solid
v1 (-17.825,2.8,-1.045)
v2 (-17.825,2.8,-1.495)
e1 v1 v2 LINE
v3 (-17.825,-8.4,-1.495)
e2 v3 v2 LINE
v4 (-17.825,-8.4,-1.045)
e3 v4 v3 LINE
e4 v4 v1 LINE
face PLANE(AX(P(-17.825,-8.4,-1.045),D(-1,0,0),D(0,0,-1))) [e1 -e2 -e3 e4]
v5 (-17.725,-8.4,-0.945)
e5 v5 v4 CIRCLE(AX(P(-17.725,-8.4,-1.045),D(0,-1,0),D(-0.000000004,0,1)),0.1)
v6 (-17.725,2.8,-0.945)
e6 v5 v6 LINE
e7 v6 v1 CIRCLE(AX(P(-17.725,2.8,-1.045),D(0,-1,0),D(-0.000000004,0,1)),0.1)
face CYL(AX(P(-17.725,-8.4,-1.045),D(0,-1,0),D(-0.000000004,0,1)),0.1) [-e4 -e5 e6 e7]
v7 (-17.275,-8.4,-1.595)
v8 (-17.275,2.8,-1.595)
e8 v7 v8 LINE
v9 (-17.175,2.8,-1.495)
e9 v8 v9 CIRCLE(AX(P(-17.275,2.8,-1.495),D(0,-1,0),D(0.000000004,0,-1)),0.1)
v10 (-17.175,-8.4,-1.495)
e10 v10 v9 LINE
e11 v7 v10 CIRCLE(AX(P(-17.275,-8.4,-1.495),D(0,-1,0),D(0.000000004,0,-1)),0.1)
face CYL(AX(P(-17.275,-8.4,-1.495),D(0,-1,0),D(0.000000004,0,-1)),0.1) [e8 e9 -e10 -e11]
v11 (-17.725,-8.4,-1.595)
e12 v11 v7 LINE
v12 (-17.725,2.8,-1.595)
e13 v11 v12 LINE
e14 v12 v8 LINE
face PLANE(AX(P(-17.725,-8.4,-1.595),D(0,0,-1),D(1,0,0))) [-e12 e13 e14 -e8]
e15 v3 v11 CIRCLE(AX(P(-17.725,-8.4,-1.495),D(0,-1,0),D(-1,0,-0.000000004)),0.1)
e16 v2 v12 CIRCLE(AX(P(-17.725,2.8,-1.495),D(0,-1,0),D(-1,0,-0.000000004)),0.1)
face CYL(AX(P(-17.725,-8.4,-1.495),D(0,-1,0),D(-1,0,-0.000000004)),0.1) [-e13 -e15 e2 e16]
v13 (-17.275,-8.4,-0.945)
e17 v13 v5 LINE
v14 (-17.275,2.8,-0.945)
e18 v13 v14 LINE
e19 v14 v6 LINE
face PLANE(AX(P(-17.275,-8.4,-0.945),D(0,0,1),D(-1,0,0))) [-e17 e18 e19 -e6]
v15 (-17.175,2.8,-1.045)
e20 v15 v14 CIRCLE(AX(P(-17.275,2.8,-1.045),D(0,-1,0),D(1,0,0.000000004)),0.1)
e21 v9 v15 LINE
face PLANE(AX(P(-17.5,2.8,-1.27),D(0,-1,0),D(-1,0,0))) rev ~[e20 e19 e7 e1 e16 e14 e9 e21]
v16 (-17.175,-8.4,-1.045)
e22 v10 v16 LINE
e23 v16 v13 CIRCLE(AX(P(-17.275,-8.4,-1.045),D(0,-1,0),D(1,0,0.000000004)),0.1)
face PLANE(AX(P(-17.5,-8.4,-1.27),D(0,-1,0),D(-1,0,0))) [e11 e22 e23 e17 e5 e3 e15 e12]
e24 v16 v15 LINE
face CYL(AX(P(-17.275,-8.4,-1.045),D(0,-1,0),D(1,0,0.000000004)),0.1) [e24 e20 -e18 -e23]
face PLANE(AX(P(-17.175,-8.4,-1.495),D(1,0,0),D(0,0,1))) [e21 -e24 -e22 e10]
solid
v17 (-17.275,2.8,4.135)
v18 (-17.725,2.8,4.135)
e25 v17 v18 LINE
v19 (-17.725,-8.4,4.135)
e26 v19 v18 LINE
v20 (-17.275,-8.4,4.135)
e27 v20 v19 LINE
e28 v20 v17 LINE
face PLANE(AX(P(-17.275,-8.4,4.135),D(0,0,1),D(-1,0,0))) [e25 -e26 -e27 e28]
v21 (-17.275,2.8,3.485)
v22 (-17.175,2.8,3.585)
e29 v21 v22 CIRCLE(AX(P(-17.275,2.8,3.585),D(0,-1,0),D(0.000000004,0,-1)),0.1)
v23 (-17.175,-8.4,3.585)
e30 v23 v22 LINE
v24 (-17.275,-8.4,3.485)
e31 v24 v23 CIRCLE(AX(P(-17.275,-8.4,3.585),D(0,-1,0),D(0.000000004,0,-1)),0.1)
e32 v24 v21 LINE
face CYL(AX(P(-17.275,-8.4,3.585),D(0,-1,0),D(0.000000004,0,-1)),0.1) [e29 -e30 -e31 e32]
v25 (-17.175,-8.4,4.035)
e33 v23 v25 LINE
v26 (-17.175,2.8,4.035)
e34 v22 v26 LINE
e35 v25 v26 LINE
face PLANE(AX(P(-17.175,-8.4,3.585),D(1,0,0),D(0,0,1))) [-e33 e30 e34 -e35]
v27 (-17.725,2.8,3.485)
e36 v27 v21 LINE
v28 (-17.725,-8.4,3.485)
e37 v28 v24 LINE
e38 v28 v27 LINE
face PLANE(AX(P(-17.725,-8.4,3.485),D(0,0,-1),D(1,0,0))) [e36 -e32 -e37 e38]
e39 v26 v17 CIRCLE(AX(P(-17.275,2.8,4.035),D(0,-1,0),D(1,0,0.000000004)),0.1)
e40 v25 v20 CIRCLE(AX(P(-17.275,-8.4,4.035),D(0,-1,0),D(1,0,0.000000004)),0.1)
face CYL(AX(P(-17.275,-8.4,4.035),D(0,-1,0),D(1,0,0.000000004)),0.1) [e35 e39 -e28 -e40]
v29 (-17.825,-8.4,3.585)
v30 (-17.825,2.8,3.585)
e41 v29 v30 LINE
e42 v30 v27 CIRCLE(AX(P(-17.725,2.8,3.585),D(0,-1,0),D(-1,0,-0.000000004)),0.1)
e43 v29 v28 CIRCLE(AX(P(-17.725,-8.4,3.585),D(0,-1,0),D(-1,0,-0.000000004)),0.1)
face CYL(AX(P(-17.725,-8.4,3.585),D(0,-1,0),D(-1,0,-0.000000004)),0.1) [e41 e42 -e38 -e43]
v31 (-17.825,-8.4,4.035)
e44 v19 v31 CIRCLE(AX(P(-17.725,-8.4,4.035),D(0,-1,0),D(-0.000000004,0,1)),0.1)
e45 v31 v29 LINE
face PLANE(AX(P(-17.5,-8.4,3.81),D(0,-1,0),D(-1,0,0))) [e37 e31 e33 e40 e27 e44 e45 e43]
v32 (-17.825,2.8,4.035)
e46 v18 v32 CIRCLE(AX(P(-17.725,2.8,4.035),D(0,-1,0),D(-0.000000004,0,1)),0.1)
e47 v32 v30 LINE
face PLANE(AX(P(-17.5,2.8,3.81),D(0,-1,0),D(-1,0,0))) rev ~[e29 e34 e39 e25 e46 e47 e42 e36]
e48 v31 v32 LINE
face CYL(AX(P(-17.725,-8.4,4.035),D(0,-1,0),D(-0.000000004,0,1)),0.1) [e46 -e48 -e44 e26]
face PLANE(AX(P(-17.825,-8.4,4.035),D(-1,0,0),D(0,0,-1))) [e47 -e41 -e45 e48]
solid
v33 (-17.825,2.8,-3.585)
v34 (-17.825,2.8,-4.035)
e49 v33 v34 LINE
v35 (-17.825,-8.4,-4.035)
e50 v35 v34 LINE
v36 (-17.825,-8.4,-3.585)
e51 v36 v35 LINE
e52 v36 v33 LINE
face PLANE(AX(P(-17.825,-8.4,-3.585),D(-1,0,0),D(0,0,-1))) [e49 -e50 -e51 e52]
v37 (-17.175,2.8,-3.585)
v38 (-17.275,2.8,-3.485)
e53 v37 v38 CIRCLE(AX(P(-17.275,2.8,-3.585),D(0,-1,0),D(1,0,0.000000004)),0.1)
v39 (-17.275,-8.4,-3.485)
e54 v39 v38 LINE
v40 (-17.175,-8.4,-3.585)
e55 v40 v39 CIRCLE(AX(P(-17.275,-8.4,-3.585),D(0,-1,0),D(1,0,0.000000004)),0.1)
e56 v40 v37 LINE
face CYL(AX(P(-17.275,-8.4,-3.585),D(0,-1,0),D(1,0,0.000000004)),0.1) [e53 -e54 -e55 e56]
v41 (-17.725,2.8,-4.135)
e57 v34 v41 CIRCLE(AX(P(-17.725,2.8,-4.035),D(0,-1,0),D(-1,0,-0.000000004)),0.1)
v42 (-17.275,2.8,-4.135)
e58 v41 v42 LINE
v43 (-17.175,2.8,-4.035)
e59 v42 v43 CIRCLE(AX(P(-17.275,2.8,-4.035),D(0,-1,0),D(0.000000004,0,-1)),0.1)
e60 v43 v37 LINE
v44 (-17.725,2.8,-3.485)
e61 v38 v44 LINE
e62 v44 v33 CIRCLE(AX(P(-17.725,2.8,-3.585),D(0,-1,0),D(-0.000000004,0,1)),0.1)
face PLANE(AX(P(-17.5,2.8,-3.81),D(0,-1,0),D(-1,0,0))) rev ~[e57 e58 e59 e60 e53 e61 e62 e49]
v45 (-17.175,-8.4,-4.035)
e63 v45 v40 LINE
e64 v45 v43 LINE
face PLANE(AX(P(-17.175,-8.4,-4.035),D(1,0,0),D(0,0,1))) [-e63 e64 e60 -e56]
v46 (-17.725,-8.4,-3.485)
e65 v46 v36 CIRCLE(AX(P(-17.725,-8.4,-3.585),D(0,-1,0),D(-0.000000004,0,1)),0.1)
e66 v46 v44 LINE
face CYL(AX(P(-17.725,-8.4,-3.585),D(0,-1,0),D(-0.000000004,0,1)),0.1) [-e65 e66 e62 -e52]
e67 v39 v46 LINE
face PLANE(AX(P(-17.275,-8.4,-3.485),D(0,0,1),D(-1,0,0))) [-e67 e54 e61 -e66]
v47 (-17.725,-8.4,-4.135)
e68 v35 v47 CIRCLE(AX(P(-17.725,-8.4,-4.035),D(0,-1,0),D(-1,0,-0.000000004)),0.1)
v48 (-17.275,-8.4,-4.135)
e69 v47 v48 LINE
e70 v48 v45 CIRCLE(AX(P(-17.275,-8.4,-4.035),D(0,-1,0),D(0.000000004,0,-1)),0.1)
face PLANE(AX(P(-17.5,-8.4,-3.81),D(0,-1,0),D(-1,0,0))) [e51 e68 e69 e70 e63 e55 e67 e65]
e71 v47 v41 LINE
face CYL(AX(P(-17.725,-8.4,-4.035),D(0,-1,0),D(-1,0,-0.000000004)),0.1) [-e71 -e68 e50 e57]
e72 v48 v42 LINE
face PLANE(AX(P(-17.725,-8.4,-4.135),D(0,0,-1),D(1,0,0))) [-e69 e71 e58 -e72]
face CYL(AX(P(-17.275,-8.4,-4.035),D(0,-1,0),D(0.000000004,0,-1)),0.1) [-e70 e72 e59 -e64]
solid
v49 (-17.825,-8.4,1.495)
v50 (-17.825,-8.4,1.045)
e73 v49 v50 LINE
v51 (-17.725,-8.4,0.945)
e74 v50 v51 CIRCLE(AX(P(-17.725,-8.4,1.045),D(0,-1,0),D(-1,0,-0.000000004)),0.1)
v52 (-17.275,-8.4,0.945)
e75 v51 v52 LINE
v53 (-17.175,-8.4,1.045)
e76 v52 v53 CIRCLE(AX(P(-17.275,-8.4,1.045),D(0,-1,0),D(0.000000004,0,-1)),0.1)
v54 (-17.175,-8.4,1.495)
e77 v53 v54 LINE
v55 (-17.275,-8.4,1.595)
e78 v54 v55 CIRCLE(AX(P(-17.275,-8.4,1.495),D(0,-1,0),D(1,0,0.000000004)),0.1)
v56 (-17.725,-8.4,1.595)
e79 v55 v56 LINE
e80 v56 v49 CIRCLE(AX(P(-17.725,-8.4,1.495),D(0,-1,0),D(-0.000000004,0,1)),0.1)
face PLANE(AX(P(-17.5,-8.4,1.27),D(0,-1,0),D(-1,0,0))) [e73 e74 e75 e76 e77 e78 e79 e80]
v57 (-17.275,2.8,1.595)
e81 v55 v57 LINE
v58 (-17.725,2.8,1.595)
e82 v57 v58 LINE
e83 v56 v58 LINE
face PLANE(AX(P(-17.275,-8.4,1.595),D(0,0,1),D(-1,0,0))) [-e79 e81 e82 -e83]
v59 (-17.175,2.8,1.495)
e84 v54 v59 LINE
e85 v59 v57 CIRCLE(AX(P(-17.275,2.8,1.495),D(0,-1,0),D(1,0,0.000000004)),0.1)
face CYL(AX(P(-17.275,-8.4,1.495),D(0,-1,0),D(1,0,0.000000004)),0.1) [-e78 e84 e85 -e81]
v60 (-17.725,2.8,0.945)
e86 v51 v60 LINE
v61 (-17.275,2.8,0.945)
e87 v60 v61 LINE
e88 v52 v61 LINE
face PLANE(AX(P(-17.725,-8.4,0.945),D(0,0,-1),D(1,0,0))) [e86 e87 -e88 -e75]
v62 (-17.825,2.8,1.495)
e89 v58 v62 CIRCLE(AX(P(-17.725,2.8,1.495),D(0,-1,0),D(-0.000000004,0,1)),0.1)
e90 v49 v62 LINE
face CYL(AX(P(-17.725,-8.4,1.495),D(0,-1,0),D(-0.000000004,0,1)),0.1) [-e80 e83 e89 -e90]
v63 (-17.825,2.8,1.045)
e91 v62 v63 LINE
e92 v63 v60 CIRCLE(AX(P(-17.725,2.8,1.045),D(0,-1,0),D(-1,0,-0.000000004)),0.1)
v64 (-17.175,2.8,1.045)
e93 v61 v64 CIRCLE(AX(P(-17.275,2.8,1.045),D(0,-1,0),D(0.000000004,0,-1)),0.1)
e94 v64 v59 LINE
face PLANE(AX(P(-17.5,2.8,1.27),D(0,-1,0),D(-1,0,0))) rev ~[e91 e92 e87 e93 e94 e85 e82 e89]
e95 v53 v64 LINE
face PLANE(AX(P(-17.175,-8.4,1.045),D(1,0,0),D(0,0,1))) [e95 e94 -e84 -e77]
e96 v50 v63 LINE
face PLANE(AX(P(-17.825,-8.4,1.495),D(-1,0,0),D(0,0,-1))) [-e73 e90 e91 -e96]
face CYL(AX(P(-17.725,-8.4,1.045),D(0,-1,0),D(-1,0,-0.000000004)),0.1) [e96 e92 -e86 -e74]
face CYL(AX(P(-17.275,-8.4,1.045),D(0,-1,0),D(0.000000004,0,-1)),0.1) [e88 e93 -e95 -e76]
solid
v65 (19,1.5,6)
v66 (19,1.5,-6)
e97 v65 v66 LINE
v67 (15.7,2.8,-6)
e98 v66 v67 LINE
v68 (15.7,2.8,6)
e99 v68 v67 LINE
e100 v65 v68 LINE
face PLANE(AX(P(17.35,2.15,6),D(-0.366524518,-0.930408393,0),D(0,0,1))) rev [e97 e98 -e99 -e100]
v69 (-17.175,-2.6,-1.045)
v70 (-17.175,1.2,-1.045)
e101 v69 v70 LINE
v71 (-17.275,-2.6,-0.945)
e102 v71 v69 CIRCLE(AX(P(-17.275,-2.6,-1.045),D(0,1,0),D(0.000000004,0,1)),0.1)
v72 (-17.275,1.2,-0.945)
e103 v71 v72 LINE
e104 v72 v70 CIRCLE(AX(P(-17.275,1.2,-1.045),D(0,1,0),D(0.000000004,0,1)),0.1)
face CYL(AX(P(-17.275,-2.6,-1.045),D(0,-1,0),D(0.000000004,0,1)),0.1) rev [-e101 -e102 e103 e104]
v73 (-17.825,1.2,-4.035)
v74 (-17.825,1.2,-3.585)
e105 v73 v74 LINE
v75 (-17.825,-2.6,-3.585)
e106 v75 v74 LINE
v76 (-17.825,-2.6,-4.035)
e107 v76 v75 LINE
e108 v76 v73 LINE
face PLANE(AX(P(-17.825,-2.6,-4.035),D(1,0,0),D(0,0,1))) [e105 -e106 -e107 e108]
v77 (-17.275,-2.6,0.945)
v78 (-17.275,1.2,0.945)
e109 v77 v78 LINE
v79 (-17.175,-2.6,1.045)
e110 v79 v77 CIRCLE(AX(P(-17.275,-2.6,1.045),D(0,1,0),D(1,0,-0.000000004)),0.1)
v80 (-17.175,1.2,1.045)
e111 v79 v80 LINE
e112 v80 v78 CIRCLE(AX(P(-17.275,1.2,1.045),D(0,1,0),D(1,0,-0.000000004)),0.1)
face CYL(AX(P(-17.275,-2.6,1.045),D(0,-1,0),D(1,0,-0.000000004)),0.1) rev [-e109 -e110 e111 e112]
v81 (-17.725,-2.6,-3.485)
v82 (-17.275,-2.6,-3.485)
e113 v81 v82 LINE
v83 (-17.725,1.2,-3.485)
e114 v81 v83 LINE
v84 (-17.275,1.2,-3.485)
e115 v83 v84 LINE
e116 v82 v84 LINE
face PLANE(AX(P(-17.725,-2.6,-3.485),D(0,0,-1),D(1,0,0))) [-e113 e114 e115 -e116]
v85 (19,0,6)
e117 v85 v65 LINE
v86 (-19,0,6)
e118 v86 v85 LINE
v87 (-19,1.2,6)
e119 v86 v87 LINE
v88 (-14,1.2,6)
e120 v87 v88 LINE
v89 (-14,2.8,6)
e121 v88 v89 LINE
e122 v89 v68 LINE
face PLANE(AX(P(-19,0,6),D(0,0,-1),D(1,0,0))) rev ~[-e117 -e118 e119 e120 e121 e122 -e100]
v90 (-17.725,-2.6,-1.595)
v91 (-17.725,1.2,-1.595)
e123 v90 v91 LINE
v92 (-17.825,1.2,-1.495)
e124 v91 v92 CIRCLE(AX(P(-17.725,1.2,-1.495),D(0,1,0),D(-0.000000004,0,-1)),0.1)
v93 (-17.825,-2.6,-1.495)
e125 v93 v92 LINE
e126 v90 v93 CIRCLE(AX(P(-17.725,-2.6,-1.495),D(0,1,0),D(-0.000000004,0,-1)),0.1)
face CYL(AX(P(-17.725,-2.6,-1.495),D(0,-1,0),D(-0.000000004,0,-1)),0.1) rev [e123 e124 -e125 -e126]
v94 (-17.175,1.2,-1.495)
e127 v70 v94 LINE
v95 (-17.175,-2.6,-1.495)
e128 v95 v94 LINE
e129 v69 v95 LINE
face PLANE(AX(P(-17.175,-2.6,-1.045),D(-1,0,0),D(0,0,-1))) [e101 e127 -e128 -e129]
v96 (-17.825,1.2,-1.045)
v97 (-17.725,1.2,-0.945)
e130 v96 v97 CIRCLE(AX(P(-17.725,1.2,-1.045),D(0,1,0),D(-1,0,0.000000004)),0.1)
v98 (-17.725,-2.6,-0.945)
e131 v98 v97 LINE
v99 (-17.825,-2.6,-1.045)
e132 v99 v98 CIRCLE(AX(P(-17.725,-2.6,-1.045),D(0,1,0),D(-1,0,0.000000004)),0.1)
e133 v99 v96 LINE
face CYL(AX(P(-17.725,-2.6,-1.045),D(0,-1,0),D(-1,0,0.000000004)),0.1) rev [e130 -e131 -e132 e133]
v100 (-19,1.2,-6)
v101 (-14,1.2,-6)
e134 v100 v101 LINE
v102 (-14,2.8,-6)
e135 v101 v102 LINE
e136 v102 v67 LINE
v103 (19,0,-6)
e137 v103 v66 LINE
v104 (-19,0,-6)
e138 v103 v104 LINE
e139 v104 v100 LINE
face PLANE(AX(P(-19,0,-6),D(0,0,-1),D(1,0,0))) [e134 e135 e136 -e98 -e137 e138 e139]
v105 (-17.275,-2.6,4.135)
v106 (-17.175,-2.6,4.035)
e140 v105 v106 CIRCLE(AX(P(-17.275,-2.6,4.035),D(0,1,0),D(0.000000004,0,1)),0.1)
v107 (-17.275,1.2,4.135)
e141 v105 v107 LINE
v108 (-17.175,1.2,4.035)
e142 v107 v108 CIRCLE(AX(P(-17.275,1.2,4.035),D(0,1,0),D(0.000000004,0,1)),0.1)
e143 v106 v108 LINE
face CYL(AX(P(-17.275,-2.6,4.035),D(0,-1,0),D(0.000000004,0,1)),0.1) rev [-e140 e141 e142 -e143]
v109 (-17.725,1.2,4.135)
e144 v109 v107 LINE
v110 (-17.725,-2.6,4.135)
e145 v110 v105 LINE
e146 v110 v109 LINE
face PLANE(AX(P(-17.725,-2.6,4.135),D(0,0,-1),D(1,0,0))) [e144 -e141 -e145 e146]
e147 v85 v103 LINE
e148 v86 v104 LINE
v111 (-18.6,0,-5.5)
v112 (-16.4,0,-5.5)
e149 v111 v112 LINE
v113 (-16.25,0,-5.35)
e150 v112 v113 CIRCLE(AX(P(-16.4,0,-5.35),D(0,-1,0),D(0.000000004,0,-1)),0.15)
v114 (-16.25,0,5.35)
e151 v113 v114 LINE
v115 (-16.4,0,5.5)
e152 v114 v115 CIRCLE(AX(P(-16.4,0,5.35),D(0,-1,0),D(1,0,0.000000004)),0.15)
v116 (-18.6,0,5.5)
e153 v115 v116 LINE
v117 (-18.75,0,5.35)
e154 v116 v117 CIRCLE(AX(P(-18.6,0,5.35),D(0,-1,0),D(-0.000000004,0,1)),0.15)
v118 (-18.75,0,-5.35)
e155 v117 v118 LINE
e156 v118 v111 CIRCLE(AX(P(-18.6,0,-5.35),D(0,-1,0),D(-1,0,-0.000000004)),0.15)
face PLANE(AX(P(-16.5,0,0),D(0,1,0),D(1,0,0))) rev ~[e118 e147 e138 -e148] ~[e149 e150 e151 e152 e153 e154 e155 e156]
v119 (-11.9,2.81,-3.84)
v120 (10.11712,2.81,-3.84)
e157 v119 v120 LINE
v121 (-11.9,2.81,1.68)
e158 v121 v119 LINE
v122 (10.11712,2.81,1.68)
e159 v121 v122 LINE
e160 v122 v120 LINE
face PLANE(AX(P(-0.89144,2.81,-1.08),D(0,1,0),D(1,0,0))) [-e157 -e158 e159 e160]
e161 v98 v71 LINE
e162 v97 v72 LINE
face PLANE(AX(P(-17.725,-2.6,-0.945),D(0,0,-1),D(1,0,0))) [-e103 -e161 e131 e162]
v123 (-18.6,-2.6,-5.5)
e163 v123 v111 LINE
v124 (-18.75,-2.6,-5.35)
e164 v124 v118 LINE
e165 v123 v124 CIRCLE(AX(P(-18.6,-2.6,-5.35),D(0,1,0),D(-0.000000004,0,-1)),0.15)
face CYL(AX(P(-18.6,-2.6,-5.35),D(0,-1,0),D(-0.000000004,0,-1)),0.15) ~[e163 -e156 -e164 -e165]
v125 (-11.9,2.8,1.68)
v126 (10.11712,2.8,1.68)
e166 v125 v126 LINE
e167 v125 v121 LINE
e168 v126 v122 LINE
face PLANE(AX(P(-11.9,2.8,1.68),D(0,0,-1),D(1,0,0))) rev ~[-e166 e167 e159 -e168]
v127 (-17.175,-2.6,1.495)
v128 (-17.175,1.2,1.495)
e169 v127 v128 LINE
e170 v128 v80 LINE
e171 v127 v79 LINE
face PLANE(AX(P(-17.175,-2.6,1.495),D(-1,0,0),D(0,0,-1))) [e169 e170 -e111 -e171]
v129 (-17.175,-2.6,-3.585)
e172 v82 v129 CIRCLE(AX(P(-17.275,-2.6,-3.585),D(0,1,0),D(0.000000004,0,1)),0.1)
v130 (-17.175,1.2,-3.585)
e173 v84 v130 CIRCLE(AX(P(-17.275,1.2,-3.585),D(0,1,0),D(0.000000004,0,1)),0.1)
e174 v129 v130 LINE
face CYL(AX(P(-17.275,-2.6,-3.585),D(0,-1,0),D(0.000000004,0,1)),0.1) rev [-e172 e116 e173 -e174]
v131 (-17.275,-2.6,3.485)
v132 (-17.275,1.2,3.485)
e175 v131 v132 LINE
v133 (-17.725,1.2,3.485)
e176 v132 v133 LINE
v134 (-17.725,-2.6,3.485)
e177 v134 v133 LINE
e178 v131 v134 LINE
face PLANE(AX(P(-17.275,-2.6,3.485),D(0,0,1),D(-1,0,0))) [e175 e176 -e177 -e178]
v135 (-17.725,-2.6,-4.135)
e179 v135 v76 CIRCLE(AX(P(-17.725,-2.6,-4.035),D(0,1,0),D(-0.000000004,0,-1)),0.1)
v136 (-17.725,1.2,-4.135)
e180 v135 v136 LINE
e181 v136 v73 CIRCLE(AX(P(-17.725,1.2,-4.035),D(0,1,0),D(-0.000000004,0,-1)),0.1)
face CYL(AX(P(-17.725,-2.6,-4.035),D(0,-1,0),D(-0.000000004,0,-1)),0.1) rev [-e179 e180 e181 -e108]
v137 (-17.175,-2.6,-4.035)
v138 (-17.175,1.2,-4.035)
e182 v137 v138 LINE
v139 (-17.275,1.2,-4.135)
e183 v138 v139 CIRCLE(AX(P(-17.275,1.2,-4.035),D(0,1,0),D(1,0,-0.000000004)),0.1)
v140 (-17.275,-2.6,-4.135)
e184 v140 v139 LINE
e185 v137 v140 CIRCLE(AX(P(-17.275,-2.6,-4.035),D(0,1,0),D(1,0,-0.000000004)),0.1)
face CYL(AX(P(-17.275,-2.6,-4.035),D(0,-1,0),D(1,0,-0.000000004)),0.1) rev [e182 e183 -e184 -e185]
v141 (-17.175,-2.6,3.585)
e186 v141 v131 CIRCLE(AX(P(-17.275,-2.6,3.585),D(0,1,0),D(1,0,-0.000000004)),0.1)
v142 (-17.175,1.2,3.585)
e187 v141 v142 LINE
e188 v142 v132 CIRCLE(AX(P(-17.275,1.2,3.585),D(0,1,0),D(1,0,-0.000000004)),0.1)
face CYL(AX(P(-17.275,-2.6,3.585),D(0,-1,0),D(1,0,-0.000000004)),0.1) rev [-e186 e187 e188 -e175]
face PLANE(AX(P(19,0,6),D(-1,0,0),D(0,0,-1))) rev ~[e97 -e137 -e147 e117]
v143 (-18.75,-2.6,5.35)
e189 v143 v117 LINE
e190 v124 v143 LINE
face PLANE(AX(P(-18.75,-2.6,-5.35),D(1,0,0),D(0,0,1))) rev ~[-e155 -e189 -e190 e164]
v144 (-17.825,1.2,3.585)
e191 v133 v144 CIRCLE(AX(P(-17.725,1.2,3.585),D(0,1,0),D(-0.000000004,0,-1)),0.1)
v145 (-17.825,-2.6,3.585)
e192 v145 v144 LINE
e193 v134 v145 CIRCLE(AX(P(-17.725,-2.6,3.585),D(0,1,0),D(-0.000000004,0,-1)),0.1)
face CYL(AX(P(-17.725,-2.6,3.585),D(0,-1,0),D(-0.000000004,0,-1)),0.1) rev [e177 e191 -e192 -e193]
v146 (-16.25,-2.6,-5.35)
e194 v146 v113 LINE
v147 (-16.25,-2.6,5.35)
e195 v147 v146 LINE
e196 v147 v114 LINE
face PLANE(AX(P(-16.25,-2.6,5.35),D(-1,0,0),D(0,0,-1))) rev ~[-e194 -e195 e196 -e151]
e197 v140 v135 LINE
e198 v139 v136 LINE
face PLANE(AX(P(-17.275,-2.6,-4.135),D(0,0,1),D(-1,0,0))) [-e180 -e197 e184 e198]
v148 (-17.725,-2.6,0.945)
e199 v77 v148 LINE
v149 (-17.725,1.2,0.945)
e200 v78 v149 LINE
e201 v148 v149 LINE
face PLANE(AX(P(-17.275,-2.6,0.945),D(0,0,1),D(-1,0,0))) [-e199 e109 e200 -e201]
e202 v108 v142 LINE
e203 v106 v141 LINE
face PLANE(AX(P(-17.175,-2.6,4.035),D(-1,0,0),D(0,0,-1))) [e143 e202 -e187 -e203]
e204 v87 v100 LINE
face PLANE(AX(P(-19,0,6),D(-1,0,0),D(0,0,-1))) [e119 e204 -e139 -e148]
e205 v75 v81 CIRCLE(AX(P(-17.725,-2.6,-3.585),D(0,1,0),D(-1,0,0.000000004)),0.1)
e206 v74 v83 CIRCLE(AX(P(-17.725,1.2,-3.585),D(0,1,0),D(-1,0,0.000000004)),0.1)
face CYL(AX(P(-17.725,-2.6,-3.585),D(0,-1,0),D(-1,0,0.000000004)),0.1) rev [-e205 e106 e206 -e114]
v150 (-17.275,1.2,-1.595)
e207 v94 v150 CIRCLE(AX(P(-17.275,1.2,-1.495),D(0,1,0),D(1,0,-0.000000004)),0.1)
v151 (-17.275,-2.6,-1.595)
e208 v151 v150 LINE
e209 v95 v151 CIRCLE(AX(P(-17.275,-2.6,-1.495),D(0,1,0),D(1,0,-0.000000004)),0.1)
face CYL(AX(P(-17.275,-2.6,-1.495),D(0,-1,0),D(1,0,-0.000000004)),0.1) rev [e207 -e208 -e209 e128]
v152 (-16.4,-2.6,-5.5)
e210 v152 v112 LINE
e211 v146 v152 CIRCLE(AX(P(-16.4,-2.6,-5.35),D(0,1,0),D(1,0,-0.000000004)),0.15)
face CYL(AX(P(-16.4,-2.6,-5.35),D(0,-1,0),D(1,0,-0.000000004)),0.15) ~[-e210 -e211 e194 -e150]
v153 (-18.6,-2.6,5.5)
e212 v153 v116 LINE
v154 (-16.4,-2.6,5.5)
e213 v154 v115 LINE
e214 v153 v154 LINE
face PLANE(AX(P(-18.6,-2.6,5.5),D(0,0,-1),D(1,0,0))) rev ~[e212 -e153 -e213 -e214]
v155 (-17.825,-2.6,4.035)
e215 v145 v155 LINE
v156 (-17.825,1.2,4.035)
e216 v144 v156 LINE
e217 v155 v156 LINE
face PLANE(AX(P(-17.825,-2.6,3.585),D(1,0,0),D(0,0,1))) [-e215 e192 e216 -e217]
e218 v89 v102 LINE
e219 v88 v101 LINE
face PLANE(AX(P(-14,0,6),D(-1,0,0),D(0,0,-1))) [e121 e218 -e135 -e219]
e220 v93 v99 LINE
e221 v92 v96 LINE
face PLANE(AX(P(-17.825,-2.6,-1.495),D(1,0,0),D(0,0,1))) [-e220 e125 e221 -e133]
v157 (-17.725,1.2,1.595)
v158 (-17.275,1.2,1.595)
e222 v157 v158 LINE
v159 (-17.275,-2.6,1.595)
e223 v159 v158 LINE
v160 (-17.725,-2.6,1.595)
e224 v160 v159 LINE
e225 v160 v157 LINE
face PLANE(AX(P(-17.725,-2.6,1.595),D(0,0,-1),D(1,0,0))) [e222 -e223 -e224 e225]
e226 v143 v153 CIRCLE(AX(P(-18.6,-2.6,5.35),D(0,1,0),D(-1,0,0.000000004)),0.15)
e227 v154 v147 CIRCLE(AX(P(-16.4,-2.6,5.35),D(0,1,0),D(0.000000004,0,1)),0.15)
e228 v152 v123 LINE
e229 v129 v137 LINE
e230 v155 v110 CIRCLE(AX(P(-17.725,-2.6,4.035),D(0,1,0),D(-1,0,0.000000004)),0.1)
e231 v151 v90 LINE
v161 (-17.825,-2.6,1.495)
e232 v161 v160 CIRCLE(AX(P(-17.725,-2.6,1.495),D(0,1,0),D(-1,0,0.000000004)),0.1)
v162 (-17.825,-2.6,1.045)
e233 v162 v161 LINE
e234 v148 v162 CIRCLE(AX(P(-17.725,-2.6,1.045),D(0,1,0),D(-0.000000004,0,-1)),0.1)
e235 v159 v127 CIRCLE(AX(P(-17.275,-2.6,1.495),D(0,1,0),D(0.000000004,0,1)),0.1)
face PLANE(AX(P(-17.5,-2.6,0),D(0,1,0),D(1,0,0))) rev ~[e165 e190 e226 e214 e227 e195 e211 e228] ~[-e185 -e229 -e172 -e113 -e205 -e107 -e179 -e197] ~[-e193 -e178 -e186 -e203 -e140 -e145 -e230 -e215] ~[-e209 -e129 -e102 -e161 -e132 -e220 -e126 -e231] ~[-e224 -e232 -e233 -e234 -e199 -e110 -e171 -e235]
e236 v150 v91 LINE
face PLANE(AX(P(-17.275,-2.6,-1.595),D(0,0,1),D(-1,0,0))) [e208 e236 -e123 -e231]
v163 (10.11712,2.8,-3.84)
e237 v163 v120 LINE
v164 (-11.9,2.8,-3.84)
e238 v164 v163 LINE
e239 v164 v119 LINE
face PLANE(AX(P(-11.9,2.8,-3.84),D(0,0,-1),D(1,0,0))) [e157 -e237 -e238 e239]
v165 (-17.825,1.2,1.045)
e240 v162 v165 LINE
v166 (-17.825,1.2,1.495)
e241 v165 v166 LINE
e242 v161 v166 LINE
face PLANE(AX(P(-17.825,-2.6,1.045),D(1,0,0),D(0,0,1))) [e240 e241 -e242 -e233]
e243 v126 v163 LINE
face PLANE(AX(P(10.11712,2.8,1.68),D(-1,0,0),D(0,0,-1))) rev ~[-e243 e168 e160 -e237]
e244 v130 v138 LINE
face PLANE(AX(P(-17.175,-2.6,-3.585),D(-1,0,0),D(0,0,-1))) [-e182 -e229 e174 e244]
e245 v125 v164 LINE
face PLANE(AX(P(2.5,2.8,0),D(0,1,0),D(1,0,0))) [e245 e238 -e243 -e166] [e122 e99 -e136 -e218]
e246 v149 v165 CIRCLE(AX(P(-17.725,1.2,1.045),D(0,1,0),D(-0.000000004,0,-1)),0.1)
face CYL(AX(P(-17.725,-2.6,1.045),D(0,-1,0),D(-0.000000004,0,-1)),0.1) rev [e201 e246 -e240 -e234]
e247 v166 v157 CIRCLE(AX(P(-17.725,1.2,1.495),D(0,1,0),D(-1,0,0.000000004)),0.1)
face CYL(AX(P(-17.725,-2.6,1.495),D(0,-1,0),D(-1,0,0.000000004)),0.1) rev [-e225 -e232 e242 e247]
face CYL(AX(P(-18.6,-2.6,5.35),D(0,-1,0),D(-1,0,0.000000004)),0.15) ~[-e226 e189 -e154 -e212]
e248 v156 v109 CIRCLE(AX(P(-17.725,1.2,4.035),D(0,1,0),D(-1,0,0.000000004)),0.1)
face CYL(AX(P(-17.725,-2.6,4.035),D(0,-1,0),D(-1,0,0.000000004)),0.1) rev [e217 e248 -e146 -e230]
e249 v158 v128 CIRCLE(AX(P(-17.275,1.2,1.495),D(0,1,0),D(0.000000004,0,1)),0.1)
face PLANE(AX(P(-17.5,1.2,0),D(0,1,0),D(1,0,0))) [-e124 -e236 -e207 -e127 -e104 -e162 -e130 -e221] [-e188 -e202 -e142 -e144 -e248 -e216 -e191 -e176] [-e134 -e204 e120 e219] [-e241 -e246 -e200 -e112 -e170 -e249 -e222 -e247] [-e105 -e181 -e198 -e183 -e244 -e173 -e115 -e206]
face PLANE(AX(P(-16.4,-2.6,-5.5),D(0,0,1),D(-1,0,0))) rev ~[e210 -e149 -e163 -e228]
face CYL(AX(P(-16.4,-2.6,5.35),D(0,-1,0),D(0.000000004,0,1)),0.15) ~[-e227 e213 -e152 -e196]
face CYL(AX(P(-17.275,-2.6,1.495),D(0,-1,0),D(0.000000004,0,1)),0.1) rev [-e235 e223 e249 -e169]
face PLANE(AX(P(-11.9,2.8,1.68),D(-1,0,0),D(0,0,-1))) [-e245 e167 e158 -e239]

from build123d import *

# Parameters (mm, degrees)
SKETCH_507_W           = 33
SKETCH_507_H           = 12
EXTRUDE_1_DEPTH        = 2.8
SKETCH_1_3_W           = 5
SKETCH_1_3_H           = 12
EXTRUDE_2_DEPTH        = 1.2
EXTRUDE_3_DEPTH        = 1.2
EXTRUDE_3_DEPTH_BACK   = 2.6
EXTRUDE_4_DEPTH        = 2.8
EXTRUDE_4_DEPTH_BACK   = 8.4
EXTRUDE_4_2_DEPTH      = 2.8
EXTRUDE_4_2_DEPTH_BACK = 8.4
EXTRUDE_4_3_DEPTH      = 2.8
EXTRUDE_4_3_DEPTH_BACK = 8.4
EXTRUDE_4_4_DEPTH      = 2.8
EXTRUDE_4_4_DEPTH_BACK = 8.4
CHAMFER_2_SIZE         = 1.3
CHAMFER_2_SIZE2        = 3.3
SKETCH_2962_W          = 22.017119527
SKETCH_2962_H          = 5.52
EXTRUDE_5_DEPTH        = 0.01


with BuildPart() as part:
    # Sketch 507 → Бобышка-Вытянуть1 (new body)
    with BuildSketch(Plane(origin=(0, 0, 0), x_dir=(1, 0, 0), z_dir=(0, 1, 0))):
        with Locations((2.5, 0)):
            Rectangle(SKETCH_507_W, SKETCH_507_H)
    extrude(amount=EXTRUDE_1_DEPTH)

    # Эскиз1<3> → Бобышка-Вытянуть2 (add)
    with BuildSketch(Plane(origin=(0, 0, 0), x_dir=(1, 0, 0), z_dir=(0, 1, 0))):
        with Locations((-16.5, 0)):
            Rectangle(SKETCH_1_3_W, SKETCH_1_3_H)
        with BuildLine():
            ThreePointArc((-16.25, -5.35), (-16.293933983, -5.456066017), (-16.4, -5.5))
            Line((-16.4, -5.5), (-18.6, -5.5))
            ThreePointArc((-18.6, -5.5), (-18.706066017, -5.456066017), (-18.75, -5.35))
            Line((-18.75, -5.35), (-18.75, 5.35))
            ThreePointArc((-18.75, 5.35), (-18.706066017, 5.456066017), (-18.6, 5.5))
            Line((-18.6, 5.5), (-16.4, 5.5))
            ThreePointArc((-16.4, 5.5), (-16.293933983, 5.456066017), (-16.25, 5.35))
            Line((-16.25, 5.35), (-16.25, -5.35))
        make_face(mode=Mode.SUBTRACT)
    extrude(amount=EXTRUDE_2_DEPTH)

    # Эскиз1<4> → Бобышка-Вытянуть3 (add, two sides: drawn at the far end of the back side and taken through both)
    with BuildSketch(Plane(origin=(0, 0, 0), x_dir=(1, 0, 0), z_dir=(0, 1, 0)).offset(-EXTRUDE_3_DEPTH_BACK)):
        with BuildLine():
            Line((-18.6, -5.5), (-16.4, -5.5))
            ThreePointArc((-16.4, -5.5), (-16.293933983, -5.456066017), (-16.25, -5.35))
            Line((-16.25, -5.35), (-16.25, 5.35))
            ThreePointArc((-16.25, 5.35), (-16.293933983, 5.456066017), (-16.4, 5.5))
            Line((-16.4, 5.5), (-18.6, 5.5))
            ThreePointArc((-18.6, 5.5), (-18.706066017, 5.456066017), (-18.75, 5.35))
            Line((-18.75, 5.35), (-18.75, -5.35))
            ThreePointArc((-18.75, -5.35), (-18.706066017, -5.456066017), (-18.6, -5.5))
        make_face()
        with BuildLine():
            ThreePointArc((-17.175, -4.035), (-17.204289322, -4.105710678), (-17.275, -4.135))
            Line((-17.275, -4.135), (-17.725, -4.135))
            ThreePointArc((-17.725, -4.135), (-17.795710678, -4.105710678), (-17.825, -4.035))
            Line((-17.825, -4.035), (-17.825, -3.585))
            ThreePointArc((-17.825, -3.585), (-17.795710678, -3.514289322), (-17.725, -3.485))
            Line((-17.725, -3.485), (-17.275, -3.485))
            ThreePointArc((-17.275, -3.485), (-17.204289322, -3.514289322), (-17.175, -3.585))
            Line((-17.175, -3.585), (-17.175, -4.035))
        make_face(mode=Mode.SUBTRACT)
        with BuildLine():
            ThreePointArc((-17.175, -1.495), (-17.204289322, -1.565710678), (-17.275, -1.595))
            Line((-17.275, -1.595), (-17.725, -1.595))
            ThreePointArc((-17.725, -1.595), (-17.795710678, -1.565710678), (-17.825, -1.495))
            Line((-17.825, -1.495), (-17.825, -1.045))
            ThreePointArc((-17.825, -1.045), (-17.795710678, -0.974289322), (-17.725, -0.945))
            Line((-17.725, -0.945), (-17.275, -0.945))
            ThreePointArc((-17.275, -0.945), (-17.204289322, -0.974289322), (-17.175, -1.045))
            Line((-17.175, -1.045), (-17.175, -1.495))
        make_face(mode=Mode.SUBTRACT)
        with BuildLine():
            ThreePointArc((-17.175, 1.045), (-17.204289322, 0.974289322), (-17.275, 0.945))
            Line((-17.275, 0.945), (-17.725, 0.945))
            ThreePointArc((-17.725, 0.945), (-17.795710678, 0.974289322), (-17.825, 1.045))
            Line((-17.825, 1.045), (-17.825, 1.495))
            ThreePointArc((-17.825, 1.495), (-17.795710678, 1.565710678), (-17.725, 1.595))
            Line((-17.725, 1.595), (-17.275, 1.595))
            ThreePointArc((-17.275, 1.595), (-17.204289322, 1.565710678), (-17.175, 1.495))
            Line((-17.175, 1.495), (-17.175, 1.045))
        make_face(mode=Mode.SUBTRACT)
        with BuildLine():
            ThreePointArc((-17.175, 3.585), (-17.204289322, 3.514289322), (-17.275, 3.485))
            Line((-17.275, 3.485), (-17.725, 3.485))
            ThreePointArc((-17.725, 3.485), (-17.795710678, 3.514289322), (-17.825, 3.585))
            Line((-17.825, 3.585), (-17.825, 4.035))
            ThreePointArc((-17.825, 4.035), (-17.795710678, 4.105710678), (-17.725, 4.135))
            Line((-17.725, 4.135), (-17.275, 4.135))
            ThreePointArc((-17.275, 4.135), (-17.204289322, 4.105710678), (-17.175, 4.035))
            Line((-17.175, 4.035), (-17.175, 3.585))
        make_face(mode=Mode.SUBTRACT)
    extrude(amount=EXTRUDE_3_DEPTH + EXTRUDE_3_DEPTH_BACK)

    # Фаска2
    chamfer_2_edges = [part.edges().sort_by_distance(p)[0] for p in [
        (19, 2.8, 0),
    ]]
    chamfer_2_side = [part.faces().sort_by_distance(p)[0] for p in [
        (19, 1.4, 0),
    ]]
    chamfer(chamfer_2_edges, length=CHAMFER_2_SIZE, length2=CHAMFER_2_SIZE2, reference=chamfer_2_side[0])

    # Sketch 2962 → Бобышка-Вытянуть5 (add)
    with BuildSketch(Plane(origin=(0, 2.8, 0), x_dir=(1, 0, 0), z_dir=(0, 1, 0))):
        with Locations((-0.891440237, 1.08)):
            Rectangle(SKETCH_2962_W, SKETCH_2962_H)
    extrude(amount=EXTRUDE_5_DEPTH)


with BuildPart() as body_2:
    # Эскиз1<6> → Бобышка-Вытянуть4 (new, two sides: drawn at the far end of the back side and taken through both)
    with BuildSketch(Plane(origin=(0, 0, 0), x_dir=(1, 0, 0), z_dir=(0, 1, 0)).offset(-EXTRUDE_4_DEPTH_BACK)):
        with BuildLine():
            Line((-17.275, 3.485), (-17.725, 3.485))
            ThreePointArc((-17.725, 3.485), (-17.795710678, 3.514289322), (-17.825, 3.585))
            Line((-17.825, 3.585), (-17.825, 4.035))
            ThreePointArc((-17.825, 4.035), (-17.795710678, 4.105710678), (-17.725, 4.135))
            Line((-17.725, 4.135), (-17.275, 4.135))
            ThreePointArc((-17.275, 4.135), (-17.204289322, 4.105710678), (-17.175, 4.035))
            Line((-17.175, 4.035), (-17.175, 3.585))
            ThreePointArc((-17.175, 3.585), (-17.204289322, 3.514289322), (-17.275, 3.485))
        make_face()
    extrude(amount=EXTRUDE_4_DEPTH + EXTRUDE_4_DEPTH_BACK)


with BuildPart() as body_3:
    # Эскиз1<6> → Extrude 4 2 (new, two sides: drawn at the far end of the back side and taken through both)
    with BuildSketch(Plane(origin=(0, 0, 0), x_dir=(1, 0, 0), z_dir=(0, 1, 0)).offset(-EXTRUDE_4_2_DEPTH_BACK)):
        with BuildLine():
            Line((-17.275, 0.945), (-17.725, 0.945))
            ThreePointArc((-17.725, 0.945), (-17.795710678, 0.974289322), (-17.825, 1.045))
            Line((-17.825, 1.045), (-17.825, 1.495))
            ThreePointArc((-17.825, 1.495), (-17.795710678, 1.565710678), (-17.725, 1.595))
            Line((-17.725, 1.595), (-17.275, 1.595))
            ThreePointArc((-17.275, 1.595), (-17.204289322, 1.565710678), (-17.175, 1.495))
            Line((-17.175, 1.495), (-17.175, 1.045))
            ThreePointArc((-17.175, 1.045), (-17.204289322, 0.974289322), (-17.275, 0.945))
        make_face()
    extrude(amount=EXTRUDE_4_2_DEPTH + EXTRUDE_4_2_DEPTH_BACK)


with BuildPart() as body_4:
    # Эскиз1<6> → Extrude 4 3 (new, two sides: drawn at the far end of the back side and taken through both)
    with BuildSketch(Plane(origin=(0, 0, 0), x_dir=(1, 0, 0), z_dir=(0, 1, 0)).offset(-EXTRUDE_4_3_DEPTH_BACK)):
        with BuildLine():
            Line((-17.275, -1.595), (-17.725, -1.595))
            ThreePointArc((-17.725, -1.595), (-17.795710678, -1.565710678), (-17.825, -1.495))
            Line((-17.825, -1.495), (-17.825, -1.045))
            ThreePointArc((-17.825, -1.045), (-17.795710678, -0.974289322), (-17.725, -0.945))
            Line((-17.725, -0.945), (-17.275, -0.945))
            ThreePointArc((-17.275, -0.945), (-17.204289322, -0.974289322), (-17.175, -1.045))
            Line((-17.175, -1.045), (-17.175, -1.495))
            ThreePointArc((-17.175, -1.495), (-17.204289322, -1.565710678), (-17.275, -1.595))
        make_face()
    extrude(amount=EXTRUDE_4_3_DEPTH + EXTRUDE_4_3_DEPTH_BACK)


with BuildPart() as body_5:
    # Эскиз1<6> → Extrude 4 4 (new, two sides: drawn at the far end of the back side and taken through both)
    with BuildSketch(Plane(origin=(0, 0, 0), x_dir=(1, 0, 0), z_dir=(0, 1, 0)).offset(-EXTRUDE_4_4_DEPTH_BACK)):
        with BuildLine():
            Line((-17.275, -4.135), (-17.725, -4.135))
            ThreePointArc((-17.725, -4.135), (-17.795710678, -4.105710678), (-17.825, -4.035))
            Line((-17.825, -4.035), (-17.825, -3.585))
            ThreePointArc((-17.825, -3.585), (-17.795710678, -3.514289322), (-17.725, -3.485))
            Line((-17.725, -3.485), (-17.275, -3.485))
            ThreePointArc((-17.275, -3.485), (-17.204289322, -3.514289322), (-17.175, -3.585))
            Line((-17.175, -3.585), (-17.175, -4.035))
            ThreePointArc((-17.175, -4.035), (-17.204289322, -4.105710678), (-17.275, -4.135))
        make_face()
    extrude(amount=EXTRUDE_4_4_DEPTH + EXTRUDE_4_4_DEPTH_BACK)


solid = Compound([part.part, body_2.part, body_3.part, body_4.part, body_5.part])
